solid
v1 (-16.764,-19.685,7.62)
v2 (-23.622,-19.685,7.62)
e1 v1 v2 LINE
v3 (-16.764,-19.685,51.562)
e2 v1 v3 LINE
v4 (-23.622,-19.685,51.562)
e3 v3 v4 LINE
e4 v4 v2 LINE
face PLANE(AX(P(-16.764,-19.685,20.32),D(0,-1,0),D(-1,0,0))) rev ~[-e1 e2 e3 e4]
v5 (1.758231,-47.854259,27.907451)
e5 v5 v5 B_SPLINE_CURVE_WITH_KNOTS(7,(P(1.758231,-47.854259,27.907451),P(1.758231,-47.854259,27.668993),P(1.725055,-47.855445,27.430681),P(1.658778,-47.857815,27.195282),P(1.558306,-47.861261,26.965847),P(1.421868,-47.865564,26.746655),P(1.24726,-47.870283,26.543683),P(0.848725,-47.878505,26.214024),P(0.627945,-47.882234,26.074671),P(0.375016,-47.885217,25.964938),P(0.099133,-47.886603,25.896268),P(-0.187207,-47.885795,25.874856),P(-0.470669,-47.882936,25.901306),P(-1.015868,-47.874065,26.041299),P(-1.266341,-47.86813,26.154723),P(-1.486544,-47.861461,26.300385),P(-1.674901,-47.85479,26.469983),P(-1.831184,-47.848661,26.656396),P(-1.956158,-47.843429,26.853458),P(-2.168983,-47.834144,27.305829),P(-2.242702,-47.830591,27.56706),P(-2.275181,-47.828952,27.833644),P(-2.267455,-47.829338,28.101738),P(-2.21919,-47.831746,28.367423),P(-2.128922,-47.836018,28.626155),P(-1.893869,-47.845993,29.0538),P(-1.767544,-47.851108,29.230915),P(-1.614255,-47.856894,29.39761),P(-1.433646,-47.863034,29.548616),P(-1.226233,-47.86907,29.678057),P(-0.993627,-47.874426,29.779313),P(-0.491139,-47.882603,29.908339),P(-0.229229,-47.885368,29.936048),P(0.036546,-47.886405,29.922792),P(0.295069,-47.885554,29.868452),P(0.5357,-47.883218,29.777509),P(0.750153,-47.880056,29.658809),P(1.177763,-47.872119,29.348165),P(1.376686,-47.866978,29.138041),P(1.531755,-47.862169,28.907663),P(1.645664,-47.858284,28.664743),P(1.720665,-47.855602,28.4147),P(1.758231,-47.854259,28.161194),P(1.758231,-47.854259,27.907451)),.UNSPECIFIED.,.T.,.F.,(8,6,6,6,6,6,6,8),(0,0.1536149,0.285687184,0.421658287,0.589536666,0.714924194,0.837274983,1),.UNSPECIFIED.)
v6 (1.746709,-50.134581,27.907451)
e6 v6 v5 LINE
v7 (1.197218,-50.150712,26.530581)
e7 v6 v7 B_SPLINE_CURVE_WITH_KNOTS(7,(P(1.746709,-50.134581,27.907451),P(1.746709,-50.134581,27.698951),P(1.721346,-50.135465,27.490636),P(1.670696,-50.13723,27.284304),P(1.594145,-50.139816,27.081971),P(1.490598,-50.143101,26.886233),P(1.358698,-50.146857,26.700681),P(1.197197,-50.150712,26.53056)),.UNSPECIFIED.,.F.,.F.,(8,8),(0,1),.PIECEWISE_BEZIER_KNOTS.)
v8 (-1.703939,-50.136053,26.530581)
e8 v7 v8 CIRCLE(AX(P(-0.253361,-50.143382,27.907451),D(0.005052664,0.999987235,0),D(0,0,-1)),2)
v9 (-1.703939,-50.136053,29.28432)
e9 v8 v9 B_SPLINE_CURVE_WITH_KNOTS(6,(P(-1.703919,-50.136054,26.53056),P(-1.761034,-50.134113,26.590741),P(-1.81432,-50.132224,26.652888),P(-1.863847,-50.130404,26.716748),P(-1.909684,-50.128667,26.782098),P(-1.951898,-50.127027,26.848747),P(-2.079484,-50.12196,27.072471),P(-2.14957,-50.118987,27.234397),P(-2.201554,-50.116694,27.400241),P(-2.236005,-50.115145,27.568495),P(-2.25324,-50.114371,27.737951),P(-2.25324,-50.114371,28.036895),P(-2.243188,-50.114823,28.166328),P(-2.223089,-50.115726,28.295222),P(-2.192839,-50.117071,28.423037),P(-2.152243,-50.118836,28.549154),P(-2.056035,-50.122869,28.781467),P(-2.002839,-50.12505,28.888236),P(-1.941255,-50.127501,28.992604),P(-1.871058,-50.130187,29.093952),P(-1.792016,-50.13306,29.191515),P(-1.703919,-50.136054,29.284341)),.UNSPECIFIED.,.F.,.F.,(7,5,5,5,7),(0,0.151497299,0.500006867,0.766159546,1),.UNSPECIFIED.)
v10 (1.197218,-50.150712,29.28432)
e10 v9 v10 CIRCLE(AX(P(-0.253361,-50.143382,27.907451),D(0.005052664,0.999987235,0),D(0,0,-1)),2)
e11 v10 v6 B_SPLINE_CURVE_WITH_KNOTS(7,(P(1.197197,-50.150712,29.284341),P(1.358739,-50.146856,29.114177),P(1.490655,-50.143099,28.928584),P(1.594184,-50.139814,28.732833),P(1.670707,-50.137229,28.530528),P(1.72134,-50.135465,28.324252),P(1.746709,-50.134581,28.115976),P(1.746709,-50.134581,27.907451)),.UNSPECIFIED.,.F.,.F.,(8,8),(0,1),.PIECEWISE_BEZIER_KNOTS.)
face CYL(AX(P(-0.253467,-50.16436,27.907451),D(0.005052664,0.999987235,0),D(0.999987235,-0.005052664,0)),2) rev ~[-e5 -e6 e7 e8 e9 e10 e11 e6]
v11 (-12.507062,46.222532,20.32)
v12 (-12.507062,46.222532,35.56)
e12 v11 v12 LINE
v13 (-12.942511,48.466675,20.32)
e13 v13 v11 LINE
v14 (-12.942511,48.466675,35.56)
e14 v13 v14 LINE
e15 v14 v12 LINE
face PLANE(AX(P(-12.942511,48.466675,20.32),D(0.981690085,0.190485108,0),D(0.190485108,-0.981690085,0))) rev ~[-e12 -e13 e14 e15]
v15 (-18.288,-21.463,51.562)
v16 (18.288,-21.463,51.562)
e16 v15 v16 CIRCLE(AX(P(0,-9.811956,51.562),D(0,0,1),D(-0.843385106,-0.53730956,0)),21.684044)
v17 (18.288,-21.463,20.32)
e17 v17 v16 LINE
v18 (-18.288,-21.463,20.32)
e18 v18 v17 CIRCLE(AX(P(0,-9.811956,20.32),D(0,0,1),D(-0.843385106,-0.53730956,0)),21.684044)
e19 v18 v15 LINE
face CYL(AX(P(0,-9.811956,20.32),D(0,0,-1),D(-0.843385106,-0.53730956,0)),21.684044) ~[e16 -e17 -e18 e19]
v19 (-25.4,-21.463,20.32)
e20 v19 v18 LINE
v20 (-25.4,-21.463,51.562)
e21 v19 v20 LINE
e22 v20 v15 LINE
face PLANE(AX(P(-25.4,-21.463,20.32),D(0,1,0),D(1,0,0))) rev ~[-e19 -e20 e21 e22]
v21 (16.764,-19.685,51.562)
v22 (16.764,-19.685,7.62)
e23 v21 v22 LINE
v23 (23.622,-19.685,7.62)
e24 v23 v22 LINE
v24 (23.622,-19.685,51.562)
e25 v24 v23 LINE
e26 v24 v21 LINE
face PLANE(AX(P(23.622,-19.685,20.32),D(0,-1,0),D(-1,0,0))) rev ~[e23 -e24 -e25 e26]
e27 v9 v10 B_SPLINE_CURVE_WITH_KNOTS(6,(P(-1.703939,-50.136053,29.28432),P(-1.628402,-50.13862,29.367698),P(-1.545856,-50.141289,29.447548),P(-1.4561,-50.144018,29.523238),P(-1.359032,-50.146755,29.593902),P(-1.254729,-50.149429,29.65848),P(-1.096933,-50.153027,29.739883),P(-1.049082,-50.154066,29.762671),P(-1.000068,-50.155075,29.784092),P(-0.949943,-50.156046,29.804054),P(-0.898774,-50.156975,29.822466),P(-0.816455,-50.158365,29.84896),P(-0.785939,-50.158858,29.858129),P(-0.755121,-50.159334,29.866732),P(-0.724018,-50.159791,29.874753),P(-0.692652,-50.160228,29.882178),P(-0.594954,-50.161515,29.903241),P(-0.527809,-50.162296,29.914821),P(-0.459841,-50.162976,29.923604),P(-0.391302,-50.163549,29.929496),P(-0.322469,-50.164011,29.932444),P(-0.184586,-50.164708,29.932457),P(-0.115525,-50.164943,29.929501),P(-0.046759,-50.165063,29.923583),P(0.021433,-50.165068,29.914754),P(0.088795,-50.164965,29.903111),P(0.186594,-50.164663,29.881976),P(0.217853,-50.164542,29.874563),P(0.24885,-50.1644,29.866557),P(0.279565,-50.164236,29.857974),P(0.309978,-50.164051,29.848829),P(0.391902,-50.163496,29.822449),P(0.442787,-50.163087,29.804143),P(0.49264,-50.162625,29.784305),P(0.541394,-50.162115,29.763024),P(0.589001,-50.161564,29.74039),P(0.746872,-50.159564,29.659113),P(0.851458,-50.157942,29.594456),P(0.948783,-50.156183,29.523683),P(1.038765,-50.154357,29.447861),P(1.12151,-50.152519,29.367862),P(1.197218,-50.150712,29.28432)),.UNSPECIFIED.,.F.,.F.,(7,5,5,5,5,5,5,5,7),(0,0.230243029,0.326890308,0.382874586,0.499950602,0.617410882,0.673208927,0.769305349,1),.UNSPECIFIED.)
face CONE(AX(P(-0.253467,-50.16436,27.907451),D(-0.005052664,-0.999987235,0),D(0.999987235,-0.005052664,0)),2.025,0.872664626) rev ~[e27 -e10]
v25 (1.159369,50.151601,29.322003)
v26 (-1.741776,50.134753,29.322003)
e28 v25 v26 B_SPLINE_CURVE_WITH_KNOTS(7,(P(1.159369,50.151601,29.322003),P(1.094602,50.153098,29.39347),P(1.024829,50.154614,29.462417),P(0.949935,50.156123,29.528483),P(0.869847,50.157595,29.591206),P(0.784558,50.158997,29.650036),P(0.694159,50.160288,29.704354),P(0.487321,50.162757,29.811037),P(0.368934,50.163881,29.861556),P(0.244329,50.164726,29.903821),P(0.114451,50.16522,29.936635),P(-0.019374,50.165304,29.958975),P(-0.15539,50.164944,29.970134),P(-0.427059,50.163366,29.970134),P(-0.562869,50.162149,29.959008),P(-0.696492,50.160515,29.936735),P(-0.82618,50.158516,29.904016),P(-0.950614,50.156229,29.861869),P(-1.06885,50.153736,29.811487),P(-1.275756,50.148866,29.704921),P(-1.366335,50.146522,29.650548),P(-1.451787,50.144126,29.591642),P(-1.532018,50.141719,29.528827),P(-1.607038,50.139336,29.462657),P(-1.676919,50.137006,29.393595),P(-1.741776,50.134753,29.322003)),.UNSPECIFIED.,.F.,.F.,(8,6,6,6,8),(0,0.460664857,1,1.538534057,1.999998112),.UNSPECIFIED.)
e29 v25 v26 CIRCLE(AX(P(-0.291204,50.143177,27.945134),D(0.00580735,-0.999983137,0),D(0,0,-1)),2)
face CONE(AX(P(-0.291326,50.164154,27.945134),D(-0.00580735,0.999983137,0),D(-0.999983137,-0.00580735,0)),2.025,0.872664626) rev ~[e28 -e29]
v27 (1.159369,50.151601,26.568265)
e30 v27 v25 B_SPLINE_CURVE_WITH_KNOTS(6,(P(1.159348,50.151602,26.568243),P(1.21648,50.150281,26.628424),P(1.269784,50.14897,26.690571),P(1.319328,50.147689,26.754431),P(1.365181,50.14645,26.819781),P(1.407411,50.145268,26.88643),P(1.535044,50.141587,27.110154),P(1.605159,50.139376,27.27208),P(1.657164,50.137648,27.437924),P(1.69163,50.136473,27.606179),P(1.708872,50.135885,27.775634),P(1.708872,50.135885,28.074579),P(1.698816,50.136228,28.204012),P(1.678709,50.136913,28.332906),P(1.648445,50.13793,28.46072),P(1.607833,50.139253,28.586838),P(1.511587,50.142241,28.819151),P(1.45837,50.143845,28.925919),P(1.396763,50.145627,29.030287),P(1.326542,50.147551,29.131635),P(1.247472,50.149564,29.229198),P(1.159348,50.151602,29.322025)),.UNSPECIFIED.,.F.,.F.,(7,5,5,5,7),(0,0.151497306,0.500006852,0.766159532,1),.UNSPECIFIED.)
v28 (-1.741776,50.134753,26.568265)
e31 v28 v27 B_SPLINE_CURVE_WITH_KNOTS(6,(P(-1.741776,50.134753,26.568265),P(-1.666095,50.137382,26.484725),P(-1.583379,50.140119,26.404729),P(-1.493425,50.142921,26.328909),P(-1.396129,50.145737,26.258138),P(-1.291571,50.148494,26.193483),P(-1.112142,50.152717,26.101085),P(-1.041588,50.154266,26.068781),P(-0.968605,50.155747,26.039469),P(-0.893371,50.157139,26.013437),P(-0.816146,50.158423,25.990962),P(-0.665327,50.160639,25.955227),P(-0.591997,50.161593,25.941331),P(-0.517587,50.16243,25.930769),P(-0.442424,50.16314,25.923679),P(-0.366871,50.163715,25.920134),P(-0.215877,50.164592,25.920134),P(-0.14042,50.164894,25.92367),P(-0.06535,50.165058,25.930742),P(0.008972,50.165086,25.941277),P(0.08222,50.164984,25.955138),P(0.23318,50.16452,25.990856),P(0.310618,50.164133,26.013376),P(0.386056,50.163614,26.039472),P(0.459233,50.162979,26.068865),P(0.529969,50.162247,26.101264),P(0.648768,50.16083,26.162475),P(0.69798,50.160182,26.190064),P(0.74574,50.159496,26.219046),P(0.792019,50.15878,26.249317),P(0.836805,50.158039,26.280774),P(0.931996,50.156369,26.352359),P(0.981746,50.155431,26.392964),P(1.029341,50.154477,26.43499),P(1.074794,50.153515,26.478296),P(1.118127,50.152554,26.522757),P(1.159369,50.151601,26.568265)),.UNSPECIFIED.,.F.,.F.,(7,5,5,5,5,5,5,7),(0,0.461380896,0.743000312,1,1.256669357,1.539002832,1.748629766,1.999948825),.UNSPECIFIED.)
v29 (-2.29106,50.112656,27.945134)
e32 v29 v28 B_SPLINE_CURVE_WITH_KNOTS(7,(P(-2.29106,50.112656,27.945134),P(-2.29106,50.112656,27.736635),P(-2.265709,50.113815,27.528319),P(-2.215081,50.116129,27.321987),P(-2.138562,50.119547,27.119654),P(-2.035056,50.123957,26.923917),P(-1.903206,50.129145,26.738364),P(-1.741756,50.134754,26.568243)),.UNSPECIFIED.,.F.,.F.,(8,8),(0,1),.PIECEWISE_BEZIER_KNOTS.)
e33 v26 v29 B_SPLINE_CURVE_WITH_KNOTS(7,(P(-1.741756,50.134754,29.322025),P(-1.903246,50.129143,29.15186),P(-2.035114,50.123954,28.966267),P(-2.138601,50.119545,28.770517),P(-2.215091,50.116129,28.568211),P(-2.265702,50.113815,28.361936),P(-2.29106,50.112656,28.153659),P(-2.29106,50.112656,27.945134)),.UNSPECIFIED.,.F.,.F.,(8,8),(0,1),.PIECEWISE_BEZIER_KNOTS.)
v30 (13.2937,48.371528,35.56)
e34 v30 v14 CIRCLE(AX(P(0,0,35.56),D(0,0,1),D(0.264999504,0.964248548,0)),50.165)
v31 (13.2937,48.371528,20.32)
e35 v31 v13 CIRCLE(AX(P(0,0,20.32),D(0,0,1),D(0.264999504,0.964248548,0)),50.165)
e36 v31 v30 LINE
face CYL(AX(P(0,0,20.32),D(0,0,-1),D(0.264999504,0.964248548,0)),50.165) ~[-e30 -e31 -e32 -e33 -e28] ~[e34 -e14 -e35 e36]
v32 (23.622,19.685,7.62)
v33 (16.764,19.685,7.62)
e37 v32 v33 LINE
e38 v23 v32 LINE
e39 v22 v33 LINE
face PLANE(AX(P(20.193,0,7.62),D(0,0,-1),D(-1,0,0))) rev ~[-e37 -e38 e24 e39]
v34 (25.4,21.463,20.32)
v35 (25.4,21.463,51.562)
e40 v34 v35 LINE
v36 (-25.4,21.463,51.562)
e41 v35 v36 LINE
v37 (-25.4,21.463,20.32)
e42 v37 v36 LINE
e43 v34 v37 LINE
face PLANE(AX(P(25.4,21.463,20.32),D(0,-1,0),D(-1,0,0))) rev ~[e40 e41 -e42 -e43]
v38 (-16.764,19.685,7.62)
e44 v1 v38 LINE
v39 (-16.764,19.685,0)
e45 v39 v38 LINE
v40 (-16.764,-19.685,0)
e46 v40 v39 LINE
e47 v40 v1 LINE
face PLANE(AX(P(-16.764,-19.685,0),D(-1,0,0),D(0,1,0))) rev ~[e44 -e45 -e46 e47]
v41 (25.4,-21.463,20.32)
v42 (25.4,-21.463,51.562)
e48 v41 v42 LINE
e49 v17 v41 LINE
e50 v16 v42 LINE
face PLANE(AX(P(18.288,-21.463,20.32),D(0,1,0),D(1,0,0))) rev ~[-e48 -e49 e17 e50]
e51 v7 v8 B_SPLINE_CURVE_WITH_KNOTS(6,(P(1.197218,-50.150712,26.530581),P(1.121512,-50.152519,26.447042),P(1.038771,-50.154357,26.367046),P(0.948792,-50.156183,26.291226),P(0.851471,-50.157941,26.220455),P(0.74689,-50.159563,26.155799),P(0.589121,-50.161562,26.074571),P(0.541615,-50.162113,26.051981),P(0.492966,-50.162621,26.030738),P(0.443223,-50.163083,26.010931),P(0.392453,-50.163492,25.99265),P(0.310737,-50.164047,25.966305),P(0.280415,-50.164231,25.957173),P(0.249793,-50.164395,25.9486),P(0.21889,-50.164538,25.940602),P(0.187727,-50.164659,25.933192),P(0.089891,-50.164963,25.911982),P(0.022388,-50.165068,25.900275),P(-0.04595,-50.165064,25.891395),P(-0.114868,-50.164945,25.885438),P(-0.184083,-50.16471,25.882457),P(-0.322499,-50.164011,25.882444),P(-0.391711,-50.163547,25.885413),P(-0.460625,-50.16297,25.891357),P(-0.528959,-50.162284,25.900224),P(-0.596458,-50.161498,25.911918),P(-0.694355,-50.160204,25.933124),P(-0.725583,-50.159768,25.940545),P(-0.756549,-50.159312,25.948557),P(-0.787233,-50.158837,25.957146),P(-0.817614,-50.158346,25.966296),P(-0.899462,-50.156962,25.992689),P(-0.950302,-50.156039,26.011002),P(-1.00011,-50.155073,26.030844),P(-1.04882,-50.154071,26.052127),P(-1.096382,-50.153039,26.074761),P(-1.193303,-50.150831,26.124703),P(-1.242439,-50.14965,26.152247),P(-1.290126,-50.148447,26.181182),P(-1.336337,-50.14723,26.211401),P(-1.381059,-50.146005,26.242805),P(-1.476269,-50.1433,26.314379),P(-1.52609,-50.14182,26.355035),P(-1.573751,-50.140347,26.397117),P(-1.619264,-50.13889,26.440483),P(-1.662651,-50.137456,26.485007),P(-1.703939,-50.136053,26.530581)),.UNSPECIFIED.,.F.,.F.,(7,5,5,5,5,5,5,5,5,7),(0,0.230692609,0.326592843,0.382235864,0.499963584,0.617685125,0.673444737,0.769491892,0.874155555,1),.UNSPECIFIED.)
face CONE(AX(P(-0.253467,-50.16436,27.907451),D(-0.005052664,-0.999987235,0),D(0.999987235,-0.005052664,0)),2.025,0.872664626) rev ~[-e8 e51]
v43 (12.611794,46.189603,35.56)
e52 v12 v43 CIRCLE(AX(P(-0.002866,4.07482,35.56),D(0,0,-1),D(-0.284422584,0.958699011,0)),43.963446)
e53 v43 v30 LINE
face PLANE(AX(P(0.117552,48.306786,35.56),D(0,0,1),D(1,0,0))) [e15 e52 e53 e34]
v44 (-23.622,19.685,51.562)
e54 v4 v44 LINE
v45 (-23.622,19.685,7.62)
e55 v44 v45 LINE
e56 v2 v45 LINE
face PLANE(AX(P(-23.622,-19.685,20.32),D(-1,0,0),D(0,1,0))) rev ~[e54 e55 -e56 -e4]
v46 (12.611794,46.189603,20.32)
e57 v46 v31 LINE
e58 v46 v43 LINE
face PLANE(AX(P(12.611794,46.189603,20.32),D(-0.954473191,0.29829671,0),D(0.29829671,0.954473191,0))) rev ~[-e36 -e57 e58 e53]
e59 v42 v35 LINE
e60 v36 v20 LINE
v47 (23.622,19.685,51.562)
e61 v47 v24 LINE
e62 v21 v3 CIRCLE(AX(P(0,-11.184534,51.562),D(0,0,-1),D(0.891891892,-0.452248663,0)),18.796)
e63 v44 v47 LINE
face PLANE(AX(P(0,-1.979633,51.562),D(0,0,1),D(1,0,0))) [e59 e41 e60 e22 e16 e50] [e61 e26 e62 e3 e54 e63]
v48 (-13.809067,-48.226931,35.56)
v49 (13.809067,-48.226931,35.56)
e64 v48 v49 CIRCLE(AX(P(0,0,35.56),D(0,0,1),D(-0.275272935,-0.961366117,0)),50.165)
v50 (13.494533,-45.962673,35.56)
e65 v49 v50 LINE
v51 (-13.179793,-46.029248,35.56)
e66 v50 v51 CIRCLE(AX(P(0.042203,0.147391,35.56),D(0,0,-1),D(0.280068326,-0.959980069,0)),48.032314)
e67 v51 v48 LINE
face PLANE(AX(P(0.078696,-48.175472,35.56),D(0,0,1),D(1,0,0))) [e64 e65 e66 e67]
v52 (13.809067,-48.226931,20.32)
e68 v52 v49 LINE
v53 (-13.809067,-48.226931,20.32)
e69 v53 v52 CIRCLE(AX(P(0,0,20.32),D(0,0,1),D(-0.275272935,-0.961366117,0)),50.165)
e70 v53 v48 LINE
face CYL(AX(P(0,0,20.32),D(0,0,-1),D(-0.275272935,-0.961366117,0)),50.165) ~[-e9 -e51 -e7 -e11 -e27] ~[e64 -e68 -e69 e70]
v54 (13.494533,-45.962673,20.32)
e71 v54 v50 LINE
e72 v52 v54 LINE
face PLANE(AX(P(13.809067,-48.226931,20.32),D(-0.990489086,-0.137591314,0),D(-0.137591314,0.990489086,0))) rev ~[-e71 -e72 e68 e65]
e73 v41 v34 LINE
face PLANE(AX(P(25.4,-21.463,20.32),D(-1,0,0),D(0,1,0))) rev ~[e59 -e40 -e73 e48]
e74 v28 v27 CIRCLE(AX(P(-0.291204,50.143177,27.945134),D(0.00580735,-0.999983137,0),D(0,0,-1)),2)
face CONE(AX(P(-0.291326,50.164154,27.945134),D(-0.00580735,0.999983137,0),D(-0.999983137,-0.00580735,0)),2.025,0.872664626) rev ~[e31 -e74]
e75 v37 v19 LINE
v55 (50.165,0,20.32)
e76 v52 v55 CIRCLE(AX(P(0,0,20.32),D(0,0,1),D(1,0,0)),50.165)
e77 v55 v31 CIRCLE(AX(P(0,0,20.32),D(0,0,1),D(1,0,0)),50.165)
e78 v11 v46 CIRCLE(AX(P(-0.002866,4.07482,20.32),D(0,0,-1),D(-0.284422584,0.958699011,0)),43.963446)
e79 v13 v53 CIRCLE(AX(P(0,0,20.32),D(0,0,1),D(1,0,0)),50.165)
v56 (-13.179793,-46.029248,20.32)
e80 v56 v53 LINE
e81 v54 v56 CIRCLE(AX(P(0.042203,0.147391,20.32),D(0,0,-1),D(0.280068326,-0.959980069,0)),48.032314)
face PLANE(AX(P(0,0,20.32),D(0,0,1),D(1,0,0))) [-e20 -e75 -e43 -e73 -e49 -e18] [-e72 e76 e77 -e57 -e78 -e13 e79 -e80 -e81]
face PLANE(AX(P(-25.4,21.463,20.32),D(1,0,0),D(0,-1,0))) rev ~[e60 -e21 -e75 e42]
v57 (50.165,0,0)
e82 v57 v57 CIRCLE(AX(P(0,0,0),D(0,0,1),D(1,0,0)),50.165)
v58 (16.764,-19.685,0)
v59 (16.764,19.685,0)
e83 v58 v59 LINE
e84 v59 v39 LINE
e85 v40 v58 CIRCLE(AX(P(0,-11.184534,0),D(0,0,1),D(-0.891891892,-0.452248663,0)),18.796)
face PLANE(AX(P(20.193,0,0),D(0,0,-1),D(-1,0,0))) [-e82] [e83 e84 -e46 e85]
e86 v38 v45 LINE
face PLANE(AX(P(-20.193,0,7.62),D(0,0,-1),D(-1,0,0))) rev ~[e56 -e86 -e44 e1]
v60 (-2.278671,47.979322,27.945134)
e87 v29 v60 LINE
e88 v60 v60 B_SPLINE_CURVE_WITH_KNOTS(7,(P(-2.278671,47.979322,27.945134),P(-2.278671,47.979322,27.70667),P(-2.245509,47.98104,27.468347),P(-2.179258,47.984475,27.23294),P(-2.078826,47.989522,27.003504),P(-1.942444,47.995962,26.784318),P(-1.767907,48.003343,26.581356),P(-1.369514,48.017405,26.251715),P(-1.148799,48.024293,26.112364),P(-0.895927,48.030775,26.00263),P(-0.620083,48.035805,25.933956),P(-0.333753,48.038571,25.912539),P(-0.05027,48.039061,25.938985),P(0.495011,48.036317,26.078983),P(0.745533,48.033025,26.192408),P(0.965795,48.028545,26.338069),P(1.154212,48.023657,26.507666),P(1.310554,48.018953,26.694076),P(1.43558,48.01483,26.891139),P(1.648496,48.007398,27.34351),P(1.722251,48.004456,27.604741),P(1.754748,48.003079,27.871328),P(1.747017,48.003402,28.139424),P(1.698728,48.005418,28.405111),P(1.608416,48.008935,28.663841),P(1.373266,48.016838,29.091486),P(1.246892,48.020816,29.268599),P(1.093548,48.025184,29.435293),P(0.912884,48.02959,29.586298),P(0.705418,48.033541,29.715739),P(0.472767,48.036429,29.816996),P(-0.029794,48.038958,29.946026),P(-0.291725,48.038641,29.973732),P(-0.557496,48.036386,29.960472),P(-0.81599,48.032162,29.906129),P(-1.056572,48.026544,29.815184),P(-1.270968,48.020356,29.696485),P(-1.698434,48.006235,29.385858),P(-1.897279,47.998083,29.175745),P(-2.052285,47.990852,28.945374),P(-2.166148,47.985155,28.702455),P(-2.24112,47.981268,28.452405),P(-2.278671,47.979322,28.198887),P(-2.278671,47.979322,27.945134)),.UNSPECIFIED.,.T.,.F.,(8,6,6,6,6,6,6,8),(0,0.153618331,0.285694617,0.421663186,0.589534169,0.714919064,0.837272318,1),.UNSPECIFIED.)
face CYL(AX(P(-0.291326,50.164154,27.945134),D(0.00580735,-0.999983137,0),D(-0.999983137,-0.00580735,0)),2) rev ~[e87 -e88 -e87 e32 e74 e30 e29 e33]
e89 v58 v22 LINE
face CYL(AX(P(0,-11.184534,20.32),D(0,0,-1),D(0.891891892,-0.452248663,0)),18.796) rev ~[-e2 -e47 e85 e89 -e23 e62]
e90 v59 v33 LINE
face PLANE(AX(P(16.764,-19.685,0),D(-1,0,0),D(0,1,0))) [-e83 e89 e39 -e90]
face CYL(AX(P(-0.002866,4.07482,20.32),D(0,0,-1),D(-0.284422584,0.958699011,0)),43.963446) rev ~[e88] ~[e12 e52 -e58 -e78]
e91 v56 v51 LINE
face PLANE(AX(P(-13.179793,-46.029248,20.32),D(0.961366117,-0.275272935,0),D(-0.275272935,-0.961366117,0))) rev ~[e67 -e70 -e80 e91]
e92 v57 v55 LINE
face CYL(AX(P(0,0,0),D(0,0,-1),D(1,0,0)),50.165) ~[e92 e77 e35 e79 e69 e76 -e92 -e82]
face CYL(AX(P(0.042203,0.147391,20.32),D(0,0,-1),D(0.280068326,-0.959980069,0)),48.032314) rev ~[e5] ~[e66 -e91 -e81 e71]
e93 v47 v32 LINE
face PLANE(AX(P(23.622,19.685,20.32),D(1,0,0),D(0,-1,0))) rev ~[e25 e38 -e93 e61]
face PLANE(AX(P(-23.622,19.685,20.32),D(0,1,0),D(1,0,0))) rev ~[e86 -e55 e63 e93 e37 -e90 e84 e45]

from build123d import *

# Parameters (mm, degrees)
SKETCH1_R                       = 50.165
BOSS_EXTRUDE1_DEPTH             = 20.32
SKETCH4_W                       = 6.858
SKETCH4_H                       = 39.37
BOSS_EXTRUDE3_DEPTH             = 7.62
BOSS_EXTRUDE4_DEPTH             = 31.242
BOSS_EXTRUDE5_DEPTH             = 15.24
F_4_0MM_DOWEL_HOLE1_D           = 4
F_4_0MM_DOWEL_HOLE1_DEPTH       = 3.81
F_4_0MM_DOWEL_HOLE1_CSINK_D     = 4.05
F_4_0MM_DOWEL_HOLE1_CSINK_ANGLE = 100
F_4_0MM_DOWEL_HOLE1_TIP         = 1.201721238
F_4_0MM_DOWEL_HOLE2_D           = 4
F_4_0MM_DOWEL_HOLE2_DEPTH       = 3.81
F_4_0MM_DOWEL_HOLE2_CSINK_D     = 4.05
F_4_0MM_DOWEL_HOLE2_CSINK_ANGLE = 100
F_4_0MM_DOWEL_HOLE2_TIP         = 1.201721238


with BuildPart() as part:
    # Sketch1 → Boss-Extrude1 (new body)
    with BuildSketch(Plane.XY):
        Circle(SKETCH1_R)
        with BuildLine():
            Line((16.764, -19.685), (23.622, -19.685))
            Line((23.622, -19.685), (23.622, 19.685))
            Line((23.622, 19.685), (-23.622, 19.685))
            Line((-23.622, 19.685), (-23.622, -19.685))
            Line((-23.622, -19.685), (-16.764, -19.685))
            ThreePointArc((-16.764, -19.685), (0, -29.98053413), (16.764, -19.685))
        make_face(mode=Mode.SUBTRACT)
    extrude(amount=BOSS_EXTRUDE1_DEPTH)

    # Sketch4 → Boss-Extrude3 (add)
    with BuildSketch(Plane(origin=(0, 0, 0), x_dir=(-1, 0, 0), z_dir=(0, 0, -1))):
        with Locations((-20.193, 0)):
            Rectangle(SKETCH4_W, SKETCH4_H)
        with Locations((20.193, 0)):
            Rectangle(SKETCH4_W, SKETCH4_H)
    extrude(amount=-BOSS_EXTRUDE3_DEPTH)

    # Sketch5 → Boss-Extrude4 (add)
    with BuildSketch(Plane.XY.offset(20.32)):
        with BuildLine():
            ThreePointArc((-18.288, -21.463), (0, -31.496), (18.288, -21.463))
            Line((18.288, -21.463), (25.4, -21.463))
            Line((25.4, -21.463), (25.4, 21.463))
            Line((25.4, 21.463), (-25.4, 21.463))
            Line((-25.4, 21.463), (-25.4, -21.463))
            Line((-25.4, -21.463), (-18.288, -21.463))
        make_face()
        with BuildLine():
            Line((-16.764, -19.685), (-23.622, -19.685))
            Line((-23.622, -19.685), (-23.622, 19.685))
            Line((-23.622, 19.685), (23.622, 19.685))
            Line((23.622, 19.685), (23.622, -19.685))
            Line((23.622, -19.685), (16.764, -19.685))
            ThreePointArc((16.764, -19.685), (0, -29.98053413), (-16.764, -19.685))
        make_face(mode=Mode.SUBTRACT)
    extrude(amount=BOSS_EXTRUDE4_DEPTH)

    # Sketch6 → Boss-Extrude5 (add)
    with BuildSketch(Plane.XY.offset(20.32)):
        with BuildLine():
            Line((13.809066775, -48.226931271), (13.49453303, -45.962673219))
            ThreePointArc((13.49453303, -45.962673219), (0.162084285, -47.884773517), (-13.179792846, -46.029248327))
            Line((-13.179792846, -46.029248327), (-13.809066775, -48.226931271))
            ThreePointArc((-13.809066775, -48.226931271), (0, -50.165), (13.809066775, -48.226931271))
        make_face()
        with BuildLine():
            Line((-12.94251142, 48.466675388), (-12.507062463, 46.222531853))
            ThreePointArc((-12.507062463, 46.222531853), (0.054767522, 48.038227874), (12.611793827, 46.189602713))
            Line((12.611793827, 46.189602713), (13.293700106, 48.371528428))
            ThreePointArc((13.293700106, 48.371528428), (0.181924735, 50.164670121), (-12.94251142, 48.466675388))
        make_face()
    extrude(amount=BOSS_EXTRUDE5_DEPTH)

    # Ø4.0mm Dowel Hole1
    with Locations(Plane(origin=(-0.291325712, 50.164154078, 27.945133858), x_dir=(0.999983137201, 0.005807349979, 0), z_dir=(-0.005807349979, 0.999983137201, 0))):
        with Locations((0, 0)):
            CounterSinkHole(F_4_0MM_DOWEL_HOLE1_D / 2, F_4_0MM_DOWEL_HOLE1_CSINK_D / 2, depth=F_4_0MM_DOWEL_HOLE1_DEPTH, counter_sink_angle=F_4_0MM_DOWEL_HOLE1_CSINK_ANGLE)
            with Locations((0, 0, -(F_4_0MM_DOWEL_HOLE1_DEPTH + F_4_0MM_DOWEL_HOLE1_TIP / 2))):  # 118° drill point
                Cone(0, F_4_0MM_DOWEL_HOLE1_D / 2, F_4_0MM_DOWEL_HOLE1_TIP, mode=Mode.SUBTRACT)

    # Ø4.0mm Dowel Hole2
    with Locations(Plane(origin=(-0.253466909, -50.164359654, 27.907450527), x_dir=(-0.99998723521, 0.005052664379, 0), z_dir=(-0.005052664379, -0.99998723521, 0))):
        with Locations((0, 0)):
            CounterSinkHole(F_4_0MM_DOWEL_HOLE2_D / 2, F_4_0MM_DOWEL_HOLE2_CSINK_D / 2, depth=F_4_0MM_DOWEL_HOLE2_DEPTH, counter_sink_angle=F_4_0MM_DOWEL_HOLE2_CSINK_ANGLE)
            with Locations((0, 0, -(F_4_0MM_DOWEL_HOLE2_DEPTH + F_4_0MM_DOWEL_HOLE2_TIP / 2))):  # 118° drill point
                Cone(0, F_4_0MM_DOWEL_HOLE2_D / 2, F_4_0MM_DOWEL_HOLE2_TIP, mode=Mode.SUBTRACT)


solid = part.part
